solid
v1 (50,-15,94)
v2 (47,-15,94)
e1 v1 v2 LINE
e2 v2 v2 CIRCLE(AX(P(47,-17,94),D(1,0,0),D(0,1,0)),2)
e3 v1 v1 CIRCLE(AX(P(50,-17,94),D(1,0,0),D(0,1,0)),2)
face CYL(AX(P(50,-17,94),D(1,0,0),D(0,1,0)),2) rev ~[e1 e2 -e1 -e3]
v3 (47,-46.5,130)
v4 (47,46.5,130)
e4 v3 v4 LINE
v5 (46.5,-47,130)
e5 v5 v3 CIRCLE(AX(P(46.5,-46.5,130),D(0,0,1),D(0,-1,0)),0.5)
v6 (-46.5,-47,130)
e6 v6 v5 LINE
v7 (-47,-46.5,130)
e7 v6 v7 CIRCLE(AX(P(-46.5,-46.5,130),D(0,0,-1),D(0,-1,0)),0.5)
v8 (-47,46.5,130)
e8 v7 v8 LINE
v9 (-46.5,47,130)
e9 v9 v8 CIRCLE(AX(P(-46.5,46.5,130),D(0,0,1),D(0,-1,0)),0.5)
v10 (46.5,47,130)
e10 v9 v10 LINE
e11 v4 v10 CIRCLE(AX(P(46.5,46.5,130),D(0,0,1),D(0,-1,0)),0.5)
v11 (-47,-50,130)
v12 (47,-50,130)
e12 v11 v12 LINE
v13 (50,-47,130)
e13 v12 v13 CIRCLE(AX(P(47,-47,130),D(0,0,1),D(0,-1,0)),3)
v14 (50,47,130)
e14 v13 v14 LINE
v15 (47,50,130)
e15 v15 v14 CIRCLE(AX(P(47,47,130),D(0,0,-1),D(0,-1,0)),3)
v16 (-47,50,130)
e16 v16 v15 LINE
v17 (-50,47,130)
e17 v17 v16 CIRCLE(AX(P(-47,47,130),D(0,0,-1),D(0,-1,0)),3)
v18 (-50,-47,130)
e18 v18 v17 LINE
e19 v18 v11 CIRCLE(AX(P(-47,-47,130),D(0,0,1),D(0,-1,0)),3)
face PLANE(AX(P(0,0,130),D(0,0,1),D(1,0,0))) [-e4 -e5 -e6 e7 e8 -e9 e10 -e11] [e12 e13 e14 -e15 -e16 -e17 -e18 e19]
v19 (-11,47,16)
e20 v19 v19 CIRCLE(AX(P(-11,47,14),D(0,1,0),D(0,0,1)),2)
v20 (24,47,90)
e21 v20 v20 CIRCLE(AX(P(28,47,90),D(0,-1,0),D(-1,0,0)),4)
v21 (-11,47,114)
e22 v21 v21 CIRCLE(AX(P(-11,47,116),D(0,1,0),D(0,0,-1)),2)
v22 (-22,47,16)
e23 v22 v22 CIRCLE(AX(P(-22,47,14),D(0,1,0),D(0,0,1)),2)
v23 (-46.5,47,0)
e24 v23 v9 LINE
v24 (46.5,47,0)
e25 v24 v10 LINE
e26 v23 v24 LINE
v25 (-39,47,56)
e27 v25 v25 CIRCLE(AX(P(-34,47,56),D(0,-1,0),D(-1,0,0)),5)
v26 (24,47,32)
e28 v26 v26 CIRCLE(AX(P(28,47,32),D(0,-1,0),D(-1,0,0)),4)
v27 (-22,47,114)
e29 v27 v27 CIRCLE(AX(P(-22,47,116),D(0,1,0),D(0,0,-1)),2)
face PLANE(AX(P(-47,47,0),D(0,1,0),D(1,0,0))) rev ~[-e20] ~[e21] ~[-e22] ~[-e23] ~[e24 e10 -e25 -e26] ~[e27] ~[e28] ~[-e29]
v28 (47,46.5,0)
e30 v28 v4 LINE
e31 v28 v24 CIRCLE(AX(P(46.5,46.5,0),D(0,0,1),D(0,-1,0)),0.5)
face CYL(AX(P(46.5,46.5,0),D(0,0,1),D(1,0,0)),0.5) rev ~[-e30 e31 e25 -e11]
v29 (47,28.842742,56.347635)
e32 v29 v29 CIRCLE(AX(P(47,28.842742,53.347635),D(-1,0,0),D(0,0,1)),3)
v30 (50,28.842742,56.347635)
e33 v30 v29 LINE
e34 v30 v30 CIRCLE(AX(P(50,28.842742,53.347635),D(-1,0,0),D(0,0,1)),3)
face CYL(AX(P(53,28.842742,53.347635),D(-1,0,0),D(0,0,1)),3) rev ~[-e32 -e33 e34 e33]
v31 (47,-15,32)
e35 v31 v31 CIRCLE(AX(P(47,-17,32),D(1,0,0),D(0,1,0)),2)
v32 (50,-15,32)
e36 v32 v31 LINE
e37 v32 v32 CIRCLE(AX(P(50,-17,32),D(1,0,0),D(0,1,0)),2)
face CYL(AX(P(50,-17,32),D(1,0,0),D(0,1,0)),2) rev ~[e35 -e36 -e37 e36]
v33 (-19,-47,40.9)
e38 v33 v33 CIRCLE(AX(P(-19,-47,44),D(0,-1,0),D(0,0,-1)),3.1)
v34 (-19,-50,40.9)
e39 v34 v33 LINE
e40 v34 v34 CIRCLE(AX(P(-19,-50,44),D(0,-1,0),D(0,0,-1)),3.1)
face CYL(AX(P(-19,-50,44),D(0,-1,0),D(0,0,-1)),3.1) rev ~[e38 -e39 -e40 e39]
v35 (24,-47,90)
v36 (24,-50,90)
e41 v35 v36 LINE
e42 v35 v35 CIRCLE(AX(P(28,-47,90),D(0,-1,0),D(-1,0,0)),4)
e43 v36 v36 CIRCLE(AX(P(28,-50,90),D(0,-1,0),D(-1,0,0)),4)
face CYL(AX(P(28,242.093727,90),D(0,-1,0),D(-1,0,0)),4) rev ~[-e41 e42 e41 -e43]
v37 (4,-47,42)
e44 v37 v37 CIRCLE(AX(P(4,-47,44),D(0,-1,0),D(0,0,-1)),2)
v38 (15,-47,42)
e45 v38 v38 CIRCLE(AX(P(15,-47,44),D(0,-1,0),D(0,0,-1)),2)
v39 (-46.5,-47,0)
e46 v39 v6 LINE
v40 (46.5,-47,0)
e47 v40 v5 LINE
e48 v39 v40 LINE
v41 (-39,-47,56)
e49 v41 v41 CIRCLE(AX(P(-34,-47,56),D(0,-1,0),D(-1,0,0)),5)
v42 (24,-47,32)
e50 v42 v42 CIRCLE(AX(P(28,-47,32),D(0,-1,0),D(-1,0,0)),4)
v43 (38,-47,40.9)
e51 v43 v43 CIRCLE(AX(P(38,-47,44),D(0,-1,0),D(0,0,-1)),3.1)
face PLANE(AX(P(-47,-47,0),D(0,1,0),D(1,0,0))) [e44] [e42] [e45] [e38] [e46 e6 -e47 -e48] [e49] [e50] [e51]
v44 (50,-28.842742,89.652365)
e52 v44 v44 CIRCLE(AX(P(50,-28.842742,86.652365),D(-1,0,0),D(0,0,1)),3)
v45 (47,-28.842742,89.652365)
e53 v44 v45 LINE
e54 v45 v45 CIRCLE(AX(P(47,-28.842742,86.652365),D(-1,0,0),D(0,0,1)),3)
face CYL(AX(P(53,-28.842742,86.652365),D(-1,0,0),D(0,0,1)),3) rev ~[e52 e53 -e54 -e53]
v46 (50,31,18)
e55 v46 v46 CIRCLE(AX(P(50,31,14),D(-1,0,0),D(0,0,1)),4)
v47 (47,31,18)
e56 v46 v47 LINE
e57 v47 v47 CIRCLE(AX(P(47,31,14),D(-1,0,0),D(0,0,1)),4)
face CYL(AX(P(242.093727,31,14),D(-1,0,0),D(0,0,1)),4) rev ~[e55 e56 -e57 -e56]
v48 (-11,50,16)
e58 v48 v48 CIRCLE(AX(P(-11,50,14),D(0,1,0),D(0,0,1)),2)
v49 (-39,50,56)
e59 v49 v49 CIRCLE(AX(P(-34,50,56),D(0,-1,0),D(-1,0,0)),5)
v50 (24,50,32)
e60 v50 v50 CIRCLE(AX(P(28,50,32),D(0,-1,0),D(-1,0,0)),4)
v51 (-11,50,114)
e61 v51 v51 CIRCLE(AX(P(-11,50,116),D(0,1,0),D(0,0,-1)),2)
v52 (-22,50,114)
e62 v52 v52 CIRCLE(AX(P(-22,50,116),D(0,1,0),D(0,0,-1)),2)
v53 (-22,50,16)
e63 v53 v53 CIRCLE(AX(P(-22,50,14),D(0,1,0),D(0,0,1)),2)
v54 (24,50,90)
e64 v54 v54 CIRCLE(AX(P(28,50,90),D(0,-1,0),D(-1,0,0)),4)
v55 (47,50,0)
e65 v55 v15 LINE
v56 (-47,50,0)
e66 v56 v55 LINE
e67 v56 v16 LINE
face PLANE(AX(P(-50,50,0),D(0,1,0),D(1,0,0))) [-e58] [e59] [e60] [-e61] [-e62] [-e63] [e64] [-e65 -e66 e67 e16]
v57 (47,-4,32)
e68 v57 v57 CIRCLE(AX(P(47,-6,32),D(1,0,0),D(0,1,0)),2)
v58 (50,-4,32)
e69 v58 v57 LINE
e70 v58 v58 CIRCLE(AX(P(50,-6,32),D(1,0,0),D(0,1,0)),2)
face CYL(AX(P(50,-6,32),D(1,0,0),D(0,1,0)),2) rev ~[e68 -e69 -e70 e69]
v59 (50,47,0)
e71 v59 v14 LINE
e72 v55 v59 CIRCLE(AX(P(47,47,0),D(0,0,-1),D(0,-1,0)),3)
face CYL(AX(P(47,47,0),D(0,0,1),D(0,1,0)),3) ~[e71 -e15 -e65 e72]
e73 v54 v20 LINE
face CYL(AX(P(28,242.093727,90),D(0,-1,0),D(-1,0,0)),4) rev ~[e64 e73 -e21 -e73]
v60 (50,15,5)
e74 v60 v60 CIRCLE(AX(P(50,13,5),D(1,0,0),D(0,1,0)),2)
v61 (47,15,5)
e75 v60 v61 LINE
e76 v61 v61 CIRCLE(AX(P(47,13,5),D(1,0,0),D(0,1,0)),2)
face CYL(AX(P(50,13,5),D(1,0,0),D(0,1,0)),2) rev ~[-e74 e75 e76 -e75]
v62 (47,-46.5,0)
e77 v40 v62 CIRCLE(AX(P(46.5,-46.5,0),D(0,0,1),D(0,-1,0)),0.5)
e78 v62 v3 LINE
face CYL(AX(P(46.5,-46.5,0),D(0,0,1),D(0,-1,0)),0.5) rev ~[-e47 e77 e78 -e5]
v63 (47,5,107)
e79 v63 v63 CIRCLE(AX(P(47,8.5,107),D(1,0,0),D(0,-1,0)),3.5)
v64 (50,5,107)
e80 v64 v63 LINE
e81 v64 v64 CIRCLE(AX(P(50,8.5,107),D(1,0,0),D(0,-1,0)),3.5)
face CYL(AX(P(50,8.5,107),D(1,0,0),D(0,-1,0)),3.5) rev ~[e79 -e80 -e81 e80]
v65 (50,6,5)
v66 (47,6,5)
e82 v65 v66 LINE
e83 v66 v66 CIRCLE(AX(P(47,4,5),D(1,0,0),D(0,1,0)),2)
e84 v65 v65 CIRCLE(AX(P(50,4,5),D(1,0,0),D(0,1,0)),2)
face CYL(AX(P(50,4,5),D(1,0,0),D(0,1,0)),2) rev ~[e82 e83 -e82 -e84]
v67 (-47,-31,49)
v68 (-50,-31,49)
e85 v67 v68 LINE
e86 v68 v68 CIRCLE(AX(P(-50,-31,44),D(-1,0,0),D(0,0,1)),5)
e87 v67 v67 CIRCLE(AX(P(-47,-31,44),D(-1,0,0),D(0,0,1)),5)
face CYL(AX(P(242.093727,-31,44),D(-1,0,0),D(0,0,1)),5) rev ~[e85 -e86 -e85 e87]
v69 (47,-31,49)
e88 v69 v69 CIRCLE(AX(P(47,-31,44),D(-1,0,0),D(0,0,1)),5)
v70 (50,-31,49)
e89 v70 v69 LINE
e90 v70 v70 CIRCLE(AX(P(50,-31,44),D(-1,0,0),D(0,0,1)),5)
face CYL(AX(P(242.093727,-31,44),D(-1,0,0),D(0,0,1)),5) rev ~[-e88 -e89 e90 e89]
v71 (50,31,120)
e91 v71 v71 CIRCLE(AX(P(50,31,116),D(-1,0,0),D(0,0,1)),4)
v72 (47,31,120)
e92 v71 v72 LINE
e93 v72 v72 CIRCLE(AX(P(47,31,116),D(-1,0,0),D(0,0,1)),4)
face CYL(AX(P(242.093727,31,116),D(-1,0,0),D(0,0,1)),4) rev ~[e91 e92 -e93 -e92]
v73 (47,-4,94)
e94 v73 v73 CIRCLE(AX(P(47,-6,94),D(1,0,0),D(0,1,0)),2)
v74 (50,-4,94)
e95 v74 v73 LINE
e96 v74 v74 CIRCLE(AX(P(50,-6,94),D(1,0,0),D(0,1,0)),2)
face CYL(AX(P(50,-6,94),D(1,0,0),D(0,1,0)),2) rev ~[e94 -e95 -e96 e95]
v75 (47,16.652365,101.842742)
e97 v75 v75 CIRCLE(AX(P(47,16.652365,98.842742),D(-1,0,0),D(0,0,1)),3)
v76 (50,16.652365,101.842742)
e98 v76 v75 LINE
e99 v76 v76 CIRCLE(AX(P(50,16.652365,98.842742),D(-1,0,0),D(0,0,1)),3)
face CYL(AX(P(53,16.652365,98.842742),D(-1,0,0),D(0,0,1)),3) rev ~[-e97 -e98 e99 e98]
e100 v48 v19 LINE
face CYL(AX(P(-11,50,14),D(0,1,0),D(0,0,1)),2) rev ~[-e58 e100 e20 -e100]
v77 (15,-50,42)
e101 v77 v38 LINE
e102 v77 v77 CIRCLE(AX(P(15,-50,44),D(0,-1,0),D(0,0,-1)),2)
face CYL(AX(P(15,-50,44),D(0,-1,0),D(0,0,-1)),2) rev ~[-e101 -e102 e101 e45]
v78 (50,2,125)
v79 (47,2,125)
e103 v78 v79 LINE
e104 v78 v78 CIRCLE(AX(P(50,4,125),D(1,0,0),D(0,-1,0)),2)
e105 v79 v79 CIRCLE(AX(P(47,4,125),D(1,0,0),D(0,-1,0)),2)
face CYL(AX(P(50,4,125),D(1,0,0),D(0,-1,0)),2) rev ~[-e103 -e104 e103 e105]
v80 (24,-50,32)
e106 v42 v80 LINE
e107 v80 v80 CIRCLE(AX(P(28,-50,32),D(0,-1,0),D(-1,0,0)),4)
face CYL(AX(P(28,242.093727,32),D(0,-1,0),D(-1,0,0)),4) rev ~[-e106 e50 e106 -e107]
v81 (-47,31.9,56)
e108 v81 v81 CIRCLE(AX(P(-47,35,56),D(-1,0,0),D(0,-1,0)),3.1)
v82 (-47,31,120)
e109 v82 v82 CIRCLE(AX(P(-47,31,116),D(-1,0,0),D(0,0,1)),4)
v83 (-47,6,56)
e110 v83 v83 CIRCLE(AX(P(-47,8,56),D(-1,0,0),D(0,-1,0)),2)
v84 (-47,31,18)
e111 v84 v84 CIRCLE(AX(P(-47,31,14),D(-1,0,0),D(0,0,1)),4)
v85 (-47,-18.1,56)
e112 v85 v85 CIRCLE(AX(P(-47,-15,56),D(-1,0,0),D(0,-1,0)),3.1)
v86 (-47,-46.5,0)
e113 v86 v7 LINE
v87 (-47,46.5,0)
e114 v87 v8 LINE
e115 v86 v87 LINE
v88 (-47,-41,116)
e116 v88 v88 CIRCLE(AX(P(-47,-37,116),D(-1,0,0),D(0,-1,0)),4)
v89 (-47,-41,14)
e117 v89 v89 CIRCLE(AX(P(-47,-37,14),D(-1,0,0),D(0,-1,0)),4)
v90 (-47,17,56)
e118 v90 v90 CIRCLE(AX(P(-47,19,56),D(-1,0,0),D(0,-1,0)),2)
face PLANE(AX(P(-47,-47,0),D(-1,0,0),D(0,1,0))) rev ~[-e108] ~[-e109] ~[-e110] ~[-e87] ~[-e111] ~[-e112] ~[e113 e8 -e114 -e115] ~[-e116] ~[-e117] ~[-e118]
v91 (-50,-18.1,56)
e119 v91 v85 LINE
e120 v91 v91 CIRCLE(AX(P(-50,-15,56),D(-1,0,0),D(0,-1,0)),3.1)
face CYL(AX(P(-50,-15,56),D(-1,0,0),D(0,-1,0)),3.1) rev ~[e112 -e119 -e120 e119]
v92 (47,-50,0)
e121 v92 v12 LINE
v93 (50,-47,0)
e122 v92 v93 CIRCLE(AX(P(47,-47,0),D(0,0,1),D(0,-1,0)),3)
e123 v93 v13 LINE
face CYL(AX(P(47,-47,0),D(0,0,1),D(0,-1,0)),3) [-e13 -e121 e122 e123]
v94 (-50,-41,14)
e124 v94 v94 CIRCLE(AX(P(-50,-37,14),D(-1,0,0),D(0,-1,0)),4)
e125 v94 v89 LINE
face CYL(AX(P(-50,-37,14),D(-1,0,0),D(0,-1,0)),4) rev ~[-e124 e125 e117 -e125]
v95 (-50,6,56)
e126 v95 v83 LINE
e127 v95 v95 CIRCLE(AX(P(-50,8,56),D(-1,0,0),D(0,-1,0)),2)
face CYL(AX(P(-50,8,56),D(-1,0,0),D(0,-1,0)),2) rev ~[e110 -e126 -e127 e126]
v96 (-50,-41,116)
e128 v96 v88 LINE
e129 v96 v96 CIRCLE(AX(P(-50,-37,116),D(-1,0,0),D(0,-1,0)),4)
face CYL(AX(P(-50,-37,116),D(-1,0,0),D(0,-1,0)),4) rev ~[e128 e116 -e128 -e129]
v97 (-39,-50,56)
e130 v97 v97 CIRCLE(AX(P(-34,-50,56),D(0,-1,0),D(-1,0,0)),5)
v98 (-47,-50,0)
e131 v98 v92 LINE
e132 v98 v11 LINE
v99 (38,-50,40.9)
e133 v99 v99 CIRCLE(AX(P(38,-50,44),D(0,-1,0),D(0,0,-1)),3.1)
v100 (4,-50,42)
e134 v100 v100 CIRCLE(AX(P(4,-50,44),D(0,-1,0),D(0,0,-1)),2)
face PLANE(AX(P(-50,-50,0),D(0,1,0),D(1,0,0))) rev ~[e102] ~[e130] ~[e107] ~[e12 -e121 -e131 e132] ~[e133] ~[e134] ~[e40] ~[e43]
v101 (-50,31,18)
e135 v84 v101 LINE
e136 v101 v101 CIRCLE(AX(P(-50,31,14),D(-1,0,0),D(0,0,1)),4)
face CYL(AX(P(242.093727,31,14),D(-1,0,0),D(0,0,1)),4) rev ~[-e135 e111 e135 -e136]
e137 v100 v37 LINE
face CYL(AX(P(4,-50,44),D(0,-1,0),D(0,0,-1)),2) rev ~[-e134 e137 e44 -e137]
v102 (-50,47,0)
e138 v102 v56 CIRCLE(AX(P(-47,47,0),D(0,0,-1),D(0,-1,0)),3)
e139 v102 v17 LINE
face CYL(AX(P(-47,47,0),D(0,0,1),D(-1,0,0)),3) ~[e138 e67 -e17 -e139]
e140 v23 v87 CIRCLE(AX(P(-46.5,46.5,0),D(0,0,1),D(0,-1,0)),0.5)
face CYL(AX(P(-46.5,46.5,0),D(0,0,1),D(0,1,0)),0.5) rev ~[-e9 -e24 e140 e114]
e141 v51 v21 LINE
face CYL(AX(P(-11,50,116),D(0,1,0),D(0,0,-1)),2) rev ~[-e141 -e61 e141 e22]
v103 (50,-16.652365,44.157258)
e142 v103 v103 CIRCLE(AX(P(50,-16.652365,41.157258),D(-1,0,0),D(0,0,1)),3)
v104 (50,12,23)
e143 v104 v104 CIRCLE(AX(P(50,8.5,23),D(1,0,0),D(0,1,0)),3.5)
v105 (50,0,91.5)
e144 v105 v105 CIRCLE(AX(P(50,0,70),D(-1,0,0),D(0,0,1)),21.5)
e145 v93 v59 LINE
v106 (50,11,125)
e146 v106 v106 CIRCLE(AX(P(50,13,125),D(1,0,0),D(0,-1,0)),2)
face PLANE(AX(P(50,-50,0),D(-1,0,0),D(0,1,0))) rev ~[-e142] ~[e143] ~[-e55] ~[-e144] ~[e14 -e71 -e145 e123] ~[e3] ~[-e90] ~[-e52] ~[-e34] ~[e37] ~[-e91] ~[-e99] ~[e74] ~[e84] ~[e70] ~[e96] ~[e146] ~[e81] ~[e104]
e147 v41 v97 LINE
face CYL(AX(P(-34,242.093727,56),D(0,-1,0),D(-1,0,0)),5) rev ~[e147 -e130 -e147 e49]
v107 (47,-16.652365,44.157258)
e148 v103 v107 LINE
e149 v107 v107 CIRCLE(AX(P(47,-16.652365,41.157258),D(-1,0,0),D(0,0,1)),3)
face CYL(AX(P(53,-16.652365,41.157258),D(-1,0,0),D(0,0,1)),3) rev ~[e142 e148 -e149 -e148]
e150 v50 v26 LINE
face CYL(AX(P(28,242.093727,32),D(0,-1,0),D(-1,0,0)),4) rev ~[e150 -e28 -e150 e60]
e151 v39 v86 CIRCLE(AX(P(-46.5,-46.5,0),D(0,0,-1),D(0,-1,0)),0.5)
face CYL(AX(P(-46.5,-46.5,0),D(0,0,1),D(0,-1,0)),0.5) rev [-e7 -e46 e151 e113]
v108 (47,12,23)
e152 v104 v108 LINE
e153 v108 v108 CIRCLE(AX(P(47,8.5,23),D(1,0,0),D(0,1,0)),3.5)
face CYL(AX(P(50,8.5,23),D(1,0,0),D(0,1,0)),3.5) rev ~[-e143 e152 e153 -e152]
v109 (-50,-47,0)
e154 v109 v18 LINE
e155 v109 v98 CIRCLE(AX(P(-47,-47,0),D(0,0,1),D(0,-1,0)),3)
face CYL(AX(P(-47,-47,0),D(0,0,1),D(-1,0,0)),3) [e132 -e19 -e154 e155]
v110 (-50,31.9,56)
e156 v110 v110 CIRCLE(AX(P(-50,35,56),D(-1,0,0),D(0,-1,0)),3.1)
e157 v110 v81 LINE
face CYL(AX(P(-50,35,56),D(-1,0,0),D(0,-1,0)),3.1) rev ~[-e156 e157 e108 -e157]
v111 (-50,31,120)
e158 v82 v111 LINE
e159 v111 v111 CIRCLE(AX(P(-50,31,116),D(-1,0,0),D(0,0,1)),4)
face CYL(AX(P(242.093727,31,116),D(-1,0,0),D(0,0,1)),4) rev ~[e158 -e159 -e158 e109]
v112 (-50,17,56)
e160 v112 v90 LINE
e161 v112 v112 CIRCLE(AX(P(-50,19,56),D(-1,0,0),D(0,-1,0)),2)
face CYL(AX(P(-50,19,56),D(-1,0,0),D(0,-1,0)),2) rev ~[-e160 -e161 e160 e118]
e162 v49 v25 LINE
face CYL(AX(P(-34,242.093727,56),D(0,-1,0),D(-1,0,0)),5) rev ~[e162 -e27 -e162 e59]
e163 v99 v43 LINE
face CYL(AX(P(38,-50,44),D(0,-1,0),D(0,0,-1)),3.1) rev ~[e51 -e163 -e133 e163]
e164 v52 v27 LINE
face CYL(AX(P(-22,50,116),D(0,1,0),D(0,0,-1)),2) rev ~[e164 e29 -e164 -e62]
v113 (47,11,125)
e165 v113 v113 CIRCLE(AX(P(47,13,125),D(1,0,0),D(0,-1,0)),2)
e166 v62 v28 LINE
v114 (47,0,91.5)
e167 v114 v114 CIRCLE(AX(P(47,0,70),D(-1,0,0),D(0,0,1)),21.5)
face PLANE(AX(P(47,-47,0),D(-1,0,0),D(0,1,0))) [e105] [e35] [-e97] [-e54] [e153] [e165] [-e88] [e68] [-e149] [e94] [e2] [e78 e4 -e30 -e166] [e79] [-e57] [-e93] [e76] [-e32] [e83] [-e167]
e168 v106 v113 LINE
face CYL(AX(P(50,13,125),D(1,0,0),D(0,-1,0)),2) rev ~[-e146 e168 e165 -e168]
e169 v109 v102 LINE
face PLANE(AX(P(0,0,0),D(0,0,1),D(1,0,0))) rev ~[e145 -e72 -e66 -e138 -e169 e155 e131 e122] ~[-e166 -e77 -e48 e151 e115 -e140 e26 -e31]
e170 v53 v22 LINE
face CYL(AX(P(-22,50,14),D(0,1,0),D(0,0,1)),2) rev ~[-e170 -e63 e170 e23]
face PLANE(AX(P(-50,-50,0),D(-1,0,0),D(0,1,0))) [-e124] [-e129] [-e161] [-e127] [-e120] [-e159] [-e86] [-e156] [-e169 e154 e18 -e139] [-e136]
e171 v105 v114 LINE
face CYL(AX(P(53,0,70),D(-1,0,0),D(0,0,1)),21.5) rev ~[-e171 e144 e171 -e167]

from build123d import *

# Parameters (mm, degrees)
SKETCH1_W                      = 100
SKETCH1_H                      = 100
SKETCH1_W_2                    = 94
SKETCH1_H_2                    = 94
EXTRUDE_THIN1_DEPTH            = 130
FILLET1_R                      = 0.5
FILLET2_R                      = 3
F_8_0_8_DIAMETER_HOLE2_D       = 8
F_8_0_8_DIAMETER_HOLE3_D       = 8
F_10_0_10_DIAMETER_HOLE1_D     = 10
F_10_0_10_DIAMETER_HOLE2_D     = 10
F_21_0_21_DIAMETER_HOLE1_D     = 43
F_21_0_21_DIAMETER_HOLE1_DEPTH = 3
F_6_0_6_DIAMETER_HOLE1_D       = 6
F_6_0_6_DIAMETER_HOLE1_DEPTH   = 3
CUT_EXTRUDE1_REACH             = 173.464
SKETCH27_R                     = 2
SKETCH27_R_2                   = 3.5
CUT_EXTRUDE2_REACH             = 173.464
SKETCH31_R                     = 4
SKETCH34_R                     = 2
CUT_EXTRUDE3_DEPTH             = 10
SKETCH35_R                     = 2
CUT_EXTRUDE4_DEPTH             = 10
SKETCH36_R                     = 2
CUT_EXTRUDE5_DEPTH             = 10
SKETCH37_R                     = 2
CUT_EXTRUDE6_DEPTH             = 10
SKETCH38_R                     = 3.1
CUT_EXTRUDE7_DEPTH             = 10
SKETCH39_R                     = 3.1
CUT_EXTRUDE8_DEPTH             = 10


with BuildPart() as part:
    # Sketch1 → Extrude-Thin1 (new body)
    with BuildSketch(Plane.XY):
        Rectangle(SKETCH1_W, SKETCH1_H)
        Rectangle(SKETCH1_W_2, SKETCH1_H_2, mode=Mode.SUBTRACT)
    extrude(amount=EXTRUDE_THIN1_DEPTH)

    # Fillet1
    fillet1_edges = [part.edges().sort_by_distance(p)[0] for p in [
        (47, -47, 65),
        (47, 47, 65),
        (-47, 47, 65),
        (-47, -47, 65),
    ]]
    fillet(fillet1_edges, radius=FILLET1_R)

    # Fillet2
    fillet2_edges = [part.edges().sort_by_distance(p)[0] for p in [
        (50, -50, 65),
        (-50, -50, 65),
        (-50, 50, 65),
        (50, 50, 65),
    ]]
    fillet(fillet2_edges, radius=FILLET2_R)

    # Ø8.0 (8) Diameter Hole2 (through all)
    with Locations(Plane(origin=(0, 50, 0), x_dir=(1, 0, 0), z_dir=(0, 1, 0))):
        with Locations((28, -32), (28, -90)):
            Hole(F_8_0_8_DIAMETER_HOLE2_D / 2)

    # Ø8.0 (8) Diameter Hole3 (through all)
    with Locations(Plane(origin=(50, 0, 0), x_dir=(0, 0, -1), z_dir=(1, 0, 0))):
        with Locations((-14, 31), (-116, 31)):
            Hole(F_8_0_8_DIAMETER_HOLE3_D / 2)

    # Ø10.0 (10) Diameter Hole1 (through all)
    with Locations(Plane(origin=(0, 50, 0), x_dir=(1, 0, 0), z_dir=(0, 1, 0))):
        with Locations((-34, -56)):
            Hole(F_10_0_10_DIAMETER_HOLE1_D / 2)

    # Ø10.0 (10) Diameter Hole2 (through all)
    with Locations(Plane(origin=(50, 0, 0), x_dir=(0, 0, -1), z_dir=(1, 0, 0))):
        with Locations((-44, -31)):
            Hole(F_10_0_10_DIAMETER_HOLE2_D / 2)

    # Ø21.0 (21) Diameter Hole1
    with Locations(Plane(origin=(50, 0, 0), x_dir=(0, 0, -1), z_dir=(1, 0, 0))):
        with Locations((-70, 0)):
            Hole(F_21_0_21_DIAMETER_HOLE1_D / 2, depth=F_21_0_21_DIAMETER_HOLE1_DEPTH)

    # Ø6.0 (6) Diameter Hole1
    with Locations(Plane(origin=(50, 0, 0), x_dir=(0, 0, -1), z_dir=(1, 0, 0))):
        with Locations((-41.157258279, -16.652364697), (-53.347635303, 28.842741721), (-98.842741721, 16.652364697), (-86.652364697, -28.842741721)):
            Hole(F_6_0_6_DIAMETER_HOLE1_D / 2, depth=F_6_0_6_DIAMETER_HOLE1_DEPTH)

    # Sketch27 → Cut-Extrude1 (cut, up to next)
    with BuildSketch(Plane(origin=(50, 0, 0), x_dir=(0, 0, -1), z_dir=(1, 0, 0)), mode=Mode.PRIVATE) as cut_extrude1_sk1:
        with Locations(Location((-5, 13, 0), (0, 0, 90))):
            Circle(SKETCH27_R)
    cut_extrude1_tool1 = extrude(cut_extrude1_sk1.sketch, amount=-CUT_EXTRUDE1_REACH, mode=Mode.PRIVATE) & part.part
    # Sketch27 → Cut-Extrude1 (cut, up to next)
    with BuildSketch(Plane(origin=(50, 0, 0), x_dir=(0, 0, -1), z_dir=(1, 0, 0)), mode=Mode.PRIVATE) as cut_extrude1_sk2:
        with Locations(Location((-5, 4, 0), (0, 0, 90))):
            Circle(SKETCH27_R)
    cut_extrude1_tool2 = extrude(cut_extrude1_sk2.sketch, amount=-CUT_EXTRUDE1_REACH, mode=Mode.PRIVATE) & part.part
    # Sketch27 → Cut-Extrude1 (cut, up to next)
    with BuildSketch(Plane(origin=(50, 0, 0), x_dir=(0, 0, -1), z_dir=(1, 0, 0)), mode=Mode.PRIVATE) as cut_extrude1_sk3:
        with Locations(Location((-23, 8.5, 0), (0, 0, 90))):
            Circle(SKETCH27_R_2)
    cut_extrude1_tool3 = extrude(cut_extrude1_sk3.sketch, amount=-CUT_EXTRUDE1_REACH, mode=Mode.PRIVATE) & part.part
    # Sketch27 → Cut-Extrude1 (cut, up to next)
    with BuildSketch(Plane(origin=(50, 0, 0), x_dir=(0, 0, -1), z_dir=(1, 0, 0)), mode=Mode.PRIVATE) as cut_extrude1_sk4:
        with Locations(Location((-107, 8.5, 0), (0, 0, 270))):
            Circle(SKETCH27_R_2)
    cut_extrude1_tool4 = extrude(cut_extrude1_sk4.sketch, amount=-CUT_EXTRUDE1_REACH, mode=Mode.PRIVATE) & part.part
    # Sketch27 → Cut-Extrude1 (cut, up to next)
    with BuildSketch(Plane(origin=(50, 0, 0), x_dir=(0, 0, -1), z_dir=(1, 0, 0)), mode=Mode.PRIVATE) as cut_extrude1_sk5:
        with Locations(Location((-125, 4, 0), (0, 0, 270))):
            Circle(SKETCH27_R)
    cut_extrude1_tool5 = extrude(cut_extrude1_sk5.sketch, amount=-CUT_EXTRUDE1_REACH, mode=Mode.PRIVATE) & part.part
    # Sketch27 → Cut-Extrude1 (cut, up to next)
    with BuildSketch(Plane(origin=(50, 0, 0), x_dir=(0, 0, -1), z_dir=(1, 0, 0)), mode=Mode.PRIVATE) as cut_extrude1_sk6:
        with Locations(Location((-125, 13, 0), (0, 0, 270))):
            Circle(SKETCH27_R)
    cut_extrude1_tool6 = extrude(cut_extrude1_sk6.sketch, amount=-CUT_EXTRUDE1_REACH, mode=Mode.PRIVATE) & part.part
    add(cut_extrude1_tool1.solids().sort_by_distance((50, 13, 5))[0], mode=Mode.SUBTRACT)
    add(cut_extrude1_tool2.solids().sort_by_distance((50, 4, 5))[0], mode=Mode.SUBTRACT)
    add(cut_extrude1_tool3.solids().sort_by_distance((50, 8.5, 23))[0], mode=Mode.SUBTRACT)
    add(cut_extrude1_tool4.solids().sort_by_distance((50, 8.5, 107))[0], mode=Mode.SUBTRACT)
    add(cut_extrude1_tool5.solids().sort_by_distance((50, 4, 125))[0], mode=Mode.SUBTRACT)
    add(cut_extrude1_tool6.solids().sort_by_distance((50, 13, 125))[0], mode=Mode.SUBTRACT)

    # Sketch31 → Cut-Extrude2 (cut, up to next)
    with BuildSketch(Plane.ZY.offset(50), mode=Mode.PRIVATE) as cut_extrude2_sk1:
        with Locations(Location((14, -37, 0), (0, 0, 270))):
            Circle(SKETCH31_R)
    cut_extrude2_tool1 = extrude(cut_extrude2_sk1.sketch, amount=-CUT_EXTRUDE2_REACH, mode=Mode.PRIVATE) & part.part
    # Sketch31 → Cut-Extrude2 (cut, up to next)
    with BuildSketch(Plane.ZY.offset(50), mode=Mode.PRIVATE) as cut_extrude2_sk2:
        with Locations(Location((116, -37, 0), (0, 0, 270))):
            Circle(SKETCH31_R)
    cut_extrude2_tool2 = extrude(cut_extrude2_sk2.sketch, amount=-CUT_EXTRUDE2_REACH, mode=Mode.PRIVATE) & part.part
    add(cut_extrude2_tool1.solids().sort_by_distance((-50, -37, 14))[0], mode=Mode.SUBTRACT)
    add(cut_extrude2_tool2.solids().sort_by_distance((-50, -37, 116))[0], mode=Mode.SUBTRACT)

    # Sketch34 → Cut-Extrude3 (cut)
    with BuildSketch(Plane(origin=(0, 50, 0), x_dir=(1, 0, 0), z_dir=(0, 1, 0))):
        with Locations(Location((-22, -14, 0), (0, 0, 270))):
            Circle(SKETCH34_R)
        with Locations(Location((-11, -14, 0), (0, 0, 270))):
            Circle(SKETCH34_R)
        with Locations(Location((-11, -116, 0), (0, 0, 90))):
            Circle(SKETCH34_R)
        with Locations(Location((-22, -116, 0), (0, 0, 90))):
            Circle(SKETCH34_R)
    extrude(amount=-CUT_EXTRUDE3_DEPTH, mode=Mode.SUBTRACT)

    # Sketch35 → Cut-Extrude4 (cut)
    with BuildSketch(Plane.XZ.offset(50)):
        with Locations(Location((15, 44, 0), (0, 0, 270))):
            Circle(SKETCH35_R)
        with Locations(Location((4, 44, 0), (0, 0, 270))):
            Circle(SKETCH35_R)
    extrude(amount=-CUT_EXTRUDE4_DEPTH, mode=Mode.SUBTRACT)

    # Sketch36 → Cut-Extrude5 (cut)
    with BuildSketch(Plane.ZY.offset(50)):
        with Locations(Location((56, 19, 0), (0, 0, 270))):
            Circle(SKETCH36_R)
        with Locations(Location((56, 8, 0), (0, 0, 270))):
            Circle(SKETCH36_R)
    extrude(amount=-CUT_EXTRUDE5_DEPTH, mode=Mode.SUBTRACT)

    # Sketch37 → Cut-Extrude6 (cut)
    with BuildSketch(Plane(origin=(50, 0, 0), x_dir=(0, 0, -1), z_dir=(1, 0, 0))):
        with Locations(Location((-32, -17, 0), (0, 0, 90))):
            Circle(SKETCH37_R)
        with Locations(Location((-32, -6, 0), (0, 0, 90))):
            Circle(SKETCH37_R)
        with Locations(Location((-94, -6, 0), (0, 0, 90))):
            Circle(SKETCH37_R)
        with Locations(Location((-94, -17, 0), (0, 0, 90))):
            Circle(SKETCH37_R)
    extrude(amount=-CUT_EXTRUDE6_DEPTH, mode=Mode.SUBTRACT)

    # Sketch38 → Cut-Extrude7 (cut)
    with BuildSketch(Plane.XZ.offset(50)):
        with Locations(Location((38, 44, 0), (0, 0, 270))):
            Circle(SKETCH38_R)
        with Locations(Location((-19, 44, 0), (0, 0, 270))):
            Circle(SKETCH38_R)
    extrude(amount=-CUT_EXTRUDE7_DEPTH, mode=Mode.SUBTRACT)

    # Sketch39 → Cut-Extrude8 (cut)
    with BuildSketch(Plane.ZY.offset(50)):
        with Locations(Location((56, 35, 0), (0, 0, 270))):
            Circle(SKETCH39_R)
        with Locations(Location((56, -15, 0), (0, 0, 270))):
            Circle(SKETCH39_R)
    extrude(amount=-CUT_EXTRUDE8_DEPTH, mode=Mode.SUBTRACT)


solid = part.part
